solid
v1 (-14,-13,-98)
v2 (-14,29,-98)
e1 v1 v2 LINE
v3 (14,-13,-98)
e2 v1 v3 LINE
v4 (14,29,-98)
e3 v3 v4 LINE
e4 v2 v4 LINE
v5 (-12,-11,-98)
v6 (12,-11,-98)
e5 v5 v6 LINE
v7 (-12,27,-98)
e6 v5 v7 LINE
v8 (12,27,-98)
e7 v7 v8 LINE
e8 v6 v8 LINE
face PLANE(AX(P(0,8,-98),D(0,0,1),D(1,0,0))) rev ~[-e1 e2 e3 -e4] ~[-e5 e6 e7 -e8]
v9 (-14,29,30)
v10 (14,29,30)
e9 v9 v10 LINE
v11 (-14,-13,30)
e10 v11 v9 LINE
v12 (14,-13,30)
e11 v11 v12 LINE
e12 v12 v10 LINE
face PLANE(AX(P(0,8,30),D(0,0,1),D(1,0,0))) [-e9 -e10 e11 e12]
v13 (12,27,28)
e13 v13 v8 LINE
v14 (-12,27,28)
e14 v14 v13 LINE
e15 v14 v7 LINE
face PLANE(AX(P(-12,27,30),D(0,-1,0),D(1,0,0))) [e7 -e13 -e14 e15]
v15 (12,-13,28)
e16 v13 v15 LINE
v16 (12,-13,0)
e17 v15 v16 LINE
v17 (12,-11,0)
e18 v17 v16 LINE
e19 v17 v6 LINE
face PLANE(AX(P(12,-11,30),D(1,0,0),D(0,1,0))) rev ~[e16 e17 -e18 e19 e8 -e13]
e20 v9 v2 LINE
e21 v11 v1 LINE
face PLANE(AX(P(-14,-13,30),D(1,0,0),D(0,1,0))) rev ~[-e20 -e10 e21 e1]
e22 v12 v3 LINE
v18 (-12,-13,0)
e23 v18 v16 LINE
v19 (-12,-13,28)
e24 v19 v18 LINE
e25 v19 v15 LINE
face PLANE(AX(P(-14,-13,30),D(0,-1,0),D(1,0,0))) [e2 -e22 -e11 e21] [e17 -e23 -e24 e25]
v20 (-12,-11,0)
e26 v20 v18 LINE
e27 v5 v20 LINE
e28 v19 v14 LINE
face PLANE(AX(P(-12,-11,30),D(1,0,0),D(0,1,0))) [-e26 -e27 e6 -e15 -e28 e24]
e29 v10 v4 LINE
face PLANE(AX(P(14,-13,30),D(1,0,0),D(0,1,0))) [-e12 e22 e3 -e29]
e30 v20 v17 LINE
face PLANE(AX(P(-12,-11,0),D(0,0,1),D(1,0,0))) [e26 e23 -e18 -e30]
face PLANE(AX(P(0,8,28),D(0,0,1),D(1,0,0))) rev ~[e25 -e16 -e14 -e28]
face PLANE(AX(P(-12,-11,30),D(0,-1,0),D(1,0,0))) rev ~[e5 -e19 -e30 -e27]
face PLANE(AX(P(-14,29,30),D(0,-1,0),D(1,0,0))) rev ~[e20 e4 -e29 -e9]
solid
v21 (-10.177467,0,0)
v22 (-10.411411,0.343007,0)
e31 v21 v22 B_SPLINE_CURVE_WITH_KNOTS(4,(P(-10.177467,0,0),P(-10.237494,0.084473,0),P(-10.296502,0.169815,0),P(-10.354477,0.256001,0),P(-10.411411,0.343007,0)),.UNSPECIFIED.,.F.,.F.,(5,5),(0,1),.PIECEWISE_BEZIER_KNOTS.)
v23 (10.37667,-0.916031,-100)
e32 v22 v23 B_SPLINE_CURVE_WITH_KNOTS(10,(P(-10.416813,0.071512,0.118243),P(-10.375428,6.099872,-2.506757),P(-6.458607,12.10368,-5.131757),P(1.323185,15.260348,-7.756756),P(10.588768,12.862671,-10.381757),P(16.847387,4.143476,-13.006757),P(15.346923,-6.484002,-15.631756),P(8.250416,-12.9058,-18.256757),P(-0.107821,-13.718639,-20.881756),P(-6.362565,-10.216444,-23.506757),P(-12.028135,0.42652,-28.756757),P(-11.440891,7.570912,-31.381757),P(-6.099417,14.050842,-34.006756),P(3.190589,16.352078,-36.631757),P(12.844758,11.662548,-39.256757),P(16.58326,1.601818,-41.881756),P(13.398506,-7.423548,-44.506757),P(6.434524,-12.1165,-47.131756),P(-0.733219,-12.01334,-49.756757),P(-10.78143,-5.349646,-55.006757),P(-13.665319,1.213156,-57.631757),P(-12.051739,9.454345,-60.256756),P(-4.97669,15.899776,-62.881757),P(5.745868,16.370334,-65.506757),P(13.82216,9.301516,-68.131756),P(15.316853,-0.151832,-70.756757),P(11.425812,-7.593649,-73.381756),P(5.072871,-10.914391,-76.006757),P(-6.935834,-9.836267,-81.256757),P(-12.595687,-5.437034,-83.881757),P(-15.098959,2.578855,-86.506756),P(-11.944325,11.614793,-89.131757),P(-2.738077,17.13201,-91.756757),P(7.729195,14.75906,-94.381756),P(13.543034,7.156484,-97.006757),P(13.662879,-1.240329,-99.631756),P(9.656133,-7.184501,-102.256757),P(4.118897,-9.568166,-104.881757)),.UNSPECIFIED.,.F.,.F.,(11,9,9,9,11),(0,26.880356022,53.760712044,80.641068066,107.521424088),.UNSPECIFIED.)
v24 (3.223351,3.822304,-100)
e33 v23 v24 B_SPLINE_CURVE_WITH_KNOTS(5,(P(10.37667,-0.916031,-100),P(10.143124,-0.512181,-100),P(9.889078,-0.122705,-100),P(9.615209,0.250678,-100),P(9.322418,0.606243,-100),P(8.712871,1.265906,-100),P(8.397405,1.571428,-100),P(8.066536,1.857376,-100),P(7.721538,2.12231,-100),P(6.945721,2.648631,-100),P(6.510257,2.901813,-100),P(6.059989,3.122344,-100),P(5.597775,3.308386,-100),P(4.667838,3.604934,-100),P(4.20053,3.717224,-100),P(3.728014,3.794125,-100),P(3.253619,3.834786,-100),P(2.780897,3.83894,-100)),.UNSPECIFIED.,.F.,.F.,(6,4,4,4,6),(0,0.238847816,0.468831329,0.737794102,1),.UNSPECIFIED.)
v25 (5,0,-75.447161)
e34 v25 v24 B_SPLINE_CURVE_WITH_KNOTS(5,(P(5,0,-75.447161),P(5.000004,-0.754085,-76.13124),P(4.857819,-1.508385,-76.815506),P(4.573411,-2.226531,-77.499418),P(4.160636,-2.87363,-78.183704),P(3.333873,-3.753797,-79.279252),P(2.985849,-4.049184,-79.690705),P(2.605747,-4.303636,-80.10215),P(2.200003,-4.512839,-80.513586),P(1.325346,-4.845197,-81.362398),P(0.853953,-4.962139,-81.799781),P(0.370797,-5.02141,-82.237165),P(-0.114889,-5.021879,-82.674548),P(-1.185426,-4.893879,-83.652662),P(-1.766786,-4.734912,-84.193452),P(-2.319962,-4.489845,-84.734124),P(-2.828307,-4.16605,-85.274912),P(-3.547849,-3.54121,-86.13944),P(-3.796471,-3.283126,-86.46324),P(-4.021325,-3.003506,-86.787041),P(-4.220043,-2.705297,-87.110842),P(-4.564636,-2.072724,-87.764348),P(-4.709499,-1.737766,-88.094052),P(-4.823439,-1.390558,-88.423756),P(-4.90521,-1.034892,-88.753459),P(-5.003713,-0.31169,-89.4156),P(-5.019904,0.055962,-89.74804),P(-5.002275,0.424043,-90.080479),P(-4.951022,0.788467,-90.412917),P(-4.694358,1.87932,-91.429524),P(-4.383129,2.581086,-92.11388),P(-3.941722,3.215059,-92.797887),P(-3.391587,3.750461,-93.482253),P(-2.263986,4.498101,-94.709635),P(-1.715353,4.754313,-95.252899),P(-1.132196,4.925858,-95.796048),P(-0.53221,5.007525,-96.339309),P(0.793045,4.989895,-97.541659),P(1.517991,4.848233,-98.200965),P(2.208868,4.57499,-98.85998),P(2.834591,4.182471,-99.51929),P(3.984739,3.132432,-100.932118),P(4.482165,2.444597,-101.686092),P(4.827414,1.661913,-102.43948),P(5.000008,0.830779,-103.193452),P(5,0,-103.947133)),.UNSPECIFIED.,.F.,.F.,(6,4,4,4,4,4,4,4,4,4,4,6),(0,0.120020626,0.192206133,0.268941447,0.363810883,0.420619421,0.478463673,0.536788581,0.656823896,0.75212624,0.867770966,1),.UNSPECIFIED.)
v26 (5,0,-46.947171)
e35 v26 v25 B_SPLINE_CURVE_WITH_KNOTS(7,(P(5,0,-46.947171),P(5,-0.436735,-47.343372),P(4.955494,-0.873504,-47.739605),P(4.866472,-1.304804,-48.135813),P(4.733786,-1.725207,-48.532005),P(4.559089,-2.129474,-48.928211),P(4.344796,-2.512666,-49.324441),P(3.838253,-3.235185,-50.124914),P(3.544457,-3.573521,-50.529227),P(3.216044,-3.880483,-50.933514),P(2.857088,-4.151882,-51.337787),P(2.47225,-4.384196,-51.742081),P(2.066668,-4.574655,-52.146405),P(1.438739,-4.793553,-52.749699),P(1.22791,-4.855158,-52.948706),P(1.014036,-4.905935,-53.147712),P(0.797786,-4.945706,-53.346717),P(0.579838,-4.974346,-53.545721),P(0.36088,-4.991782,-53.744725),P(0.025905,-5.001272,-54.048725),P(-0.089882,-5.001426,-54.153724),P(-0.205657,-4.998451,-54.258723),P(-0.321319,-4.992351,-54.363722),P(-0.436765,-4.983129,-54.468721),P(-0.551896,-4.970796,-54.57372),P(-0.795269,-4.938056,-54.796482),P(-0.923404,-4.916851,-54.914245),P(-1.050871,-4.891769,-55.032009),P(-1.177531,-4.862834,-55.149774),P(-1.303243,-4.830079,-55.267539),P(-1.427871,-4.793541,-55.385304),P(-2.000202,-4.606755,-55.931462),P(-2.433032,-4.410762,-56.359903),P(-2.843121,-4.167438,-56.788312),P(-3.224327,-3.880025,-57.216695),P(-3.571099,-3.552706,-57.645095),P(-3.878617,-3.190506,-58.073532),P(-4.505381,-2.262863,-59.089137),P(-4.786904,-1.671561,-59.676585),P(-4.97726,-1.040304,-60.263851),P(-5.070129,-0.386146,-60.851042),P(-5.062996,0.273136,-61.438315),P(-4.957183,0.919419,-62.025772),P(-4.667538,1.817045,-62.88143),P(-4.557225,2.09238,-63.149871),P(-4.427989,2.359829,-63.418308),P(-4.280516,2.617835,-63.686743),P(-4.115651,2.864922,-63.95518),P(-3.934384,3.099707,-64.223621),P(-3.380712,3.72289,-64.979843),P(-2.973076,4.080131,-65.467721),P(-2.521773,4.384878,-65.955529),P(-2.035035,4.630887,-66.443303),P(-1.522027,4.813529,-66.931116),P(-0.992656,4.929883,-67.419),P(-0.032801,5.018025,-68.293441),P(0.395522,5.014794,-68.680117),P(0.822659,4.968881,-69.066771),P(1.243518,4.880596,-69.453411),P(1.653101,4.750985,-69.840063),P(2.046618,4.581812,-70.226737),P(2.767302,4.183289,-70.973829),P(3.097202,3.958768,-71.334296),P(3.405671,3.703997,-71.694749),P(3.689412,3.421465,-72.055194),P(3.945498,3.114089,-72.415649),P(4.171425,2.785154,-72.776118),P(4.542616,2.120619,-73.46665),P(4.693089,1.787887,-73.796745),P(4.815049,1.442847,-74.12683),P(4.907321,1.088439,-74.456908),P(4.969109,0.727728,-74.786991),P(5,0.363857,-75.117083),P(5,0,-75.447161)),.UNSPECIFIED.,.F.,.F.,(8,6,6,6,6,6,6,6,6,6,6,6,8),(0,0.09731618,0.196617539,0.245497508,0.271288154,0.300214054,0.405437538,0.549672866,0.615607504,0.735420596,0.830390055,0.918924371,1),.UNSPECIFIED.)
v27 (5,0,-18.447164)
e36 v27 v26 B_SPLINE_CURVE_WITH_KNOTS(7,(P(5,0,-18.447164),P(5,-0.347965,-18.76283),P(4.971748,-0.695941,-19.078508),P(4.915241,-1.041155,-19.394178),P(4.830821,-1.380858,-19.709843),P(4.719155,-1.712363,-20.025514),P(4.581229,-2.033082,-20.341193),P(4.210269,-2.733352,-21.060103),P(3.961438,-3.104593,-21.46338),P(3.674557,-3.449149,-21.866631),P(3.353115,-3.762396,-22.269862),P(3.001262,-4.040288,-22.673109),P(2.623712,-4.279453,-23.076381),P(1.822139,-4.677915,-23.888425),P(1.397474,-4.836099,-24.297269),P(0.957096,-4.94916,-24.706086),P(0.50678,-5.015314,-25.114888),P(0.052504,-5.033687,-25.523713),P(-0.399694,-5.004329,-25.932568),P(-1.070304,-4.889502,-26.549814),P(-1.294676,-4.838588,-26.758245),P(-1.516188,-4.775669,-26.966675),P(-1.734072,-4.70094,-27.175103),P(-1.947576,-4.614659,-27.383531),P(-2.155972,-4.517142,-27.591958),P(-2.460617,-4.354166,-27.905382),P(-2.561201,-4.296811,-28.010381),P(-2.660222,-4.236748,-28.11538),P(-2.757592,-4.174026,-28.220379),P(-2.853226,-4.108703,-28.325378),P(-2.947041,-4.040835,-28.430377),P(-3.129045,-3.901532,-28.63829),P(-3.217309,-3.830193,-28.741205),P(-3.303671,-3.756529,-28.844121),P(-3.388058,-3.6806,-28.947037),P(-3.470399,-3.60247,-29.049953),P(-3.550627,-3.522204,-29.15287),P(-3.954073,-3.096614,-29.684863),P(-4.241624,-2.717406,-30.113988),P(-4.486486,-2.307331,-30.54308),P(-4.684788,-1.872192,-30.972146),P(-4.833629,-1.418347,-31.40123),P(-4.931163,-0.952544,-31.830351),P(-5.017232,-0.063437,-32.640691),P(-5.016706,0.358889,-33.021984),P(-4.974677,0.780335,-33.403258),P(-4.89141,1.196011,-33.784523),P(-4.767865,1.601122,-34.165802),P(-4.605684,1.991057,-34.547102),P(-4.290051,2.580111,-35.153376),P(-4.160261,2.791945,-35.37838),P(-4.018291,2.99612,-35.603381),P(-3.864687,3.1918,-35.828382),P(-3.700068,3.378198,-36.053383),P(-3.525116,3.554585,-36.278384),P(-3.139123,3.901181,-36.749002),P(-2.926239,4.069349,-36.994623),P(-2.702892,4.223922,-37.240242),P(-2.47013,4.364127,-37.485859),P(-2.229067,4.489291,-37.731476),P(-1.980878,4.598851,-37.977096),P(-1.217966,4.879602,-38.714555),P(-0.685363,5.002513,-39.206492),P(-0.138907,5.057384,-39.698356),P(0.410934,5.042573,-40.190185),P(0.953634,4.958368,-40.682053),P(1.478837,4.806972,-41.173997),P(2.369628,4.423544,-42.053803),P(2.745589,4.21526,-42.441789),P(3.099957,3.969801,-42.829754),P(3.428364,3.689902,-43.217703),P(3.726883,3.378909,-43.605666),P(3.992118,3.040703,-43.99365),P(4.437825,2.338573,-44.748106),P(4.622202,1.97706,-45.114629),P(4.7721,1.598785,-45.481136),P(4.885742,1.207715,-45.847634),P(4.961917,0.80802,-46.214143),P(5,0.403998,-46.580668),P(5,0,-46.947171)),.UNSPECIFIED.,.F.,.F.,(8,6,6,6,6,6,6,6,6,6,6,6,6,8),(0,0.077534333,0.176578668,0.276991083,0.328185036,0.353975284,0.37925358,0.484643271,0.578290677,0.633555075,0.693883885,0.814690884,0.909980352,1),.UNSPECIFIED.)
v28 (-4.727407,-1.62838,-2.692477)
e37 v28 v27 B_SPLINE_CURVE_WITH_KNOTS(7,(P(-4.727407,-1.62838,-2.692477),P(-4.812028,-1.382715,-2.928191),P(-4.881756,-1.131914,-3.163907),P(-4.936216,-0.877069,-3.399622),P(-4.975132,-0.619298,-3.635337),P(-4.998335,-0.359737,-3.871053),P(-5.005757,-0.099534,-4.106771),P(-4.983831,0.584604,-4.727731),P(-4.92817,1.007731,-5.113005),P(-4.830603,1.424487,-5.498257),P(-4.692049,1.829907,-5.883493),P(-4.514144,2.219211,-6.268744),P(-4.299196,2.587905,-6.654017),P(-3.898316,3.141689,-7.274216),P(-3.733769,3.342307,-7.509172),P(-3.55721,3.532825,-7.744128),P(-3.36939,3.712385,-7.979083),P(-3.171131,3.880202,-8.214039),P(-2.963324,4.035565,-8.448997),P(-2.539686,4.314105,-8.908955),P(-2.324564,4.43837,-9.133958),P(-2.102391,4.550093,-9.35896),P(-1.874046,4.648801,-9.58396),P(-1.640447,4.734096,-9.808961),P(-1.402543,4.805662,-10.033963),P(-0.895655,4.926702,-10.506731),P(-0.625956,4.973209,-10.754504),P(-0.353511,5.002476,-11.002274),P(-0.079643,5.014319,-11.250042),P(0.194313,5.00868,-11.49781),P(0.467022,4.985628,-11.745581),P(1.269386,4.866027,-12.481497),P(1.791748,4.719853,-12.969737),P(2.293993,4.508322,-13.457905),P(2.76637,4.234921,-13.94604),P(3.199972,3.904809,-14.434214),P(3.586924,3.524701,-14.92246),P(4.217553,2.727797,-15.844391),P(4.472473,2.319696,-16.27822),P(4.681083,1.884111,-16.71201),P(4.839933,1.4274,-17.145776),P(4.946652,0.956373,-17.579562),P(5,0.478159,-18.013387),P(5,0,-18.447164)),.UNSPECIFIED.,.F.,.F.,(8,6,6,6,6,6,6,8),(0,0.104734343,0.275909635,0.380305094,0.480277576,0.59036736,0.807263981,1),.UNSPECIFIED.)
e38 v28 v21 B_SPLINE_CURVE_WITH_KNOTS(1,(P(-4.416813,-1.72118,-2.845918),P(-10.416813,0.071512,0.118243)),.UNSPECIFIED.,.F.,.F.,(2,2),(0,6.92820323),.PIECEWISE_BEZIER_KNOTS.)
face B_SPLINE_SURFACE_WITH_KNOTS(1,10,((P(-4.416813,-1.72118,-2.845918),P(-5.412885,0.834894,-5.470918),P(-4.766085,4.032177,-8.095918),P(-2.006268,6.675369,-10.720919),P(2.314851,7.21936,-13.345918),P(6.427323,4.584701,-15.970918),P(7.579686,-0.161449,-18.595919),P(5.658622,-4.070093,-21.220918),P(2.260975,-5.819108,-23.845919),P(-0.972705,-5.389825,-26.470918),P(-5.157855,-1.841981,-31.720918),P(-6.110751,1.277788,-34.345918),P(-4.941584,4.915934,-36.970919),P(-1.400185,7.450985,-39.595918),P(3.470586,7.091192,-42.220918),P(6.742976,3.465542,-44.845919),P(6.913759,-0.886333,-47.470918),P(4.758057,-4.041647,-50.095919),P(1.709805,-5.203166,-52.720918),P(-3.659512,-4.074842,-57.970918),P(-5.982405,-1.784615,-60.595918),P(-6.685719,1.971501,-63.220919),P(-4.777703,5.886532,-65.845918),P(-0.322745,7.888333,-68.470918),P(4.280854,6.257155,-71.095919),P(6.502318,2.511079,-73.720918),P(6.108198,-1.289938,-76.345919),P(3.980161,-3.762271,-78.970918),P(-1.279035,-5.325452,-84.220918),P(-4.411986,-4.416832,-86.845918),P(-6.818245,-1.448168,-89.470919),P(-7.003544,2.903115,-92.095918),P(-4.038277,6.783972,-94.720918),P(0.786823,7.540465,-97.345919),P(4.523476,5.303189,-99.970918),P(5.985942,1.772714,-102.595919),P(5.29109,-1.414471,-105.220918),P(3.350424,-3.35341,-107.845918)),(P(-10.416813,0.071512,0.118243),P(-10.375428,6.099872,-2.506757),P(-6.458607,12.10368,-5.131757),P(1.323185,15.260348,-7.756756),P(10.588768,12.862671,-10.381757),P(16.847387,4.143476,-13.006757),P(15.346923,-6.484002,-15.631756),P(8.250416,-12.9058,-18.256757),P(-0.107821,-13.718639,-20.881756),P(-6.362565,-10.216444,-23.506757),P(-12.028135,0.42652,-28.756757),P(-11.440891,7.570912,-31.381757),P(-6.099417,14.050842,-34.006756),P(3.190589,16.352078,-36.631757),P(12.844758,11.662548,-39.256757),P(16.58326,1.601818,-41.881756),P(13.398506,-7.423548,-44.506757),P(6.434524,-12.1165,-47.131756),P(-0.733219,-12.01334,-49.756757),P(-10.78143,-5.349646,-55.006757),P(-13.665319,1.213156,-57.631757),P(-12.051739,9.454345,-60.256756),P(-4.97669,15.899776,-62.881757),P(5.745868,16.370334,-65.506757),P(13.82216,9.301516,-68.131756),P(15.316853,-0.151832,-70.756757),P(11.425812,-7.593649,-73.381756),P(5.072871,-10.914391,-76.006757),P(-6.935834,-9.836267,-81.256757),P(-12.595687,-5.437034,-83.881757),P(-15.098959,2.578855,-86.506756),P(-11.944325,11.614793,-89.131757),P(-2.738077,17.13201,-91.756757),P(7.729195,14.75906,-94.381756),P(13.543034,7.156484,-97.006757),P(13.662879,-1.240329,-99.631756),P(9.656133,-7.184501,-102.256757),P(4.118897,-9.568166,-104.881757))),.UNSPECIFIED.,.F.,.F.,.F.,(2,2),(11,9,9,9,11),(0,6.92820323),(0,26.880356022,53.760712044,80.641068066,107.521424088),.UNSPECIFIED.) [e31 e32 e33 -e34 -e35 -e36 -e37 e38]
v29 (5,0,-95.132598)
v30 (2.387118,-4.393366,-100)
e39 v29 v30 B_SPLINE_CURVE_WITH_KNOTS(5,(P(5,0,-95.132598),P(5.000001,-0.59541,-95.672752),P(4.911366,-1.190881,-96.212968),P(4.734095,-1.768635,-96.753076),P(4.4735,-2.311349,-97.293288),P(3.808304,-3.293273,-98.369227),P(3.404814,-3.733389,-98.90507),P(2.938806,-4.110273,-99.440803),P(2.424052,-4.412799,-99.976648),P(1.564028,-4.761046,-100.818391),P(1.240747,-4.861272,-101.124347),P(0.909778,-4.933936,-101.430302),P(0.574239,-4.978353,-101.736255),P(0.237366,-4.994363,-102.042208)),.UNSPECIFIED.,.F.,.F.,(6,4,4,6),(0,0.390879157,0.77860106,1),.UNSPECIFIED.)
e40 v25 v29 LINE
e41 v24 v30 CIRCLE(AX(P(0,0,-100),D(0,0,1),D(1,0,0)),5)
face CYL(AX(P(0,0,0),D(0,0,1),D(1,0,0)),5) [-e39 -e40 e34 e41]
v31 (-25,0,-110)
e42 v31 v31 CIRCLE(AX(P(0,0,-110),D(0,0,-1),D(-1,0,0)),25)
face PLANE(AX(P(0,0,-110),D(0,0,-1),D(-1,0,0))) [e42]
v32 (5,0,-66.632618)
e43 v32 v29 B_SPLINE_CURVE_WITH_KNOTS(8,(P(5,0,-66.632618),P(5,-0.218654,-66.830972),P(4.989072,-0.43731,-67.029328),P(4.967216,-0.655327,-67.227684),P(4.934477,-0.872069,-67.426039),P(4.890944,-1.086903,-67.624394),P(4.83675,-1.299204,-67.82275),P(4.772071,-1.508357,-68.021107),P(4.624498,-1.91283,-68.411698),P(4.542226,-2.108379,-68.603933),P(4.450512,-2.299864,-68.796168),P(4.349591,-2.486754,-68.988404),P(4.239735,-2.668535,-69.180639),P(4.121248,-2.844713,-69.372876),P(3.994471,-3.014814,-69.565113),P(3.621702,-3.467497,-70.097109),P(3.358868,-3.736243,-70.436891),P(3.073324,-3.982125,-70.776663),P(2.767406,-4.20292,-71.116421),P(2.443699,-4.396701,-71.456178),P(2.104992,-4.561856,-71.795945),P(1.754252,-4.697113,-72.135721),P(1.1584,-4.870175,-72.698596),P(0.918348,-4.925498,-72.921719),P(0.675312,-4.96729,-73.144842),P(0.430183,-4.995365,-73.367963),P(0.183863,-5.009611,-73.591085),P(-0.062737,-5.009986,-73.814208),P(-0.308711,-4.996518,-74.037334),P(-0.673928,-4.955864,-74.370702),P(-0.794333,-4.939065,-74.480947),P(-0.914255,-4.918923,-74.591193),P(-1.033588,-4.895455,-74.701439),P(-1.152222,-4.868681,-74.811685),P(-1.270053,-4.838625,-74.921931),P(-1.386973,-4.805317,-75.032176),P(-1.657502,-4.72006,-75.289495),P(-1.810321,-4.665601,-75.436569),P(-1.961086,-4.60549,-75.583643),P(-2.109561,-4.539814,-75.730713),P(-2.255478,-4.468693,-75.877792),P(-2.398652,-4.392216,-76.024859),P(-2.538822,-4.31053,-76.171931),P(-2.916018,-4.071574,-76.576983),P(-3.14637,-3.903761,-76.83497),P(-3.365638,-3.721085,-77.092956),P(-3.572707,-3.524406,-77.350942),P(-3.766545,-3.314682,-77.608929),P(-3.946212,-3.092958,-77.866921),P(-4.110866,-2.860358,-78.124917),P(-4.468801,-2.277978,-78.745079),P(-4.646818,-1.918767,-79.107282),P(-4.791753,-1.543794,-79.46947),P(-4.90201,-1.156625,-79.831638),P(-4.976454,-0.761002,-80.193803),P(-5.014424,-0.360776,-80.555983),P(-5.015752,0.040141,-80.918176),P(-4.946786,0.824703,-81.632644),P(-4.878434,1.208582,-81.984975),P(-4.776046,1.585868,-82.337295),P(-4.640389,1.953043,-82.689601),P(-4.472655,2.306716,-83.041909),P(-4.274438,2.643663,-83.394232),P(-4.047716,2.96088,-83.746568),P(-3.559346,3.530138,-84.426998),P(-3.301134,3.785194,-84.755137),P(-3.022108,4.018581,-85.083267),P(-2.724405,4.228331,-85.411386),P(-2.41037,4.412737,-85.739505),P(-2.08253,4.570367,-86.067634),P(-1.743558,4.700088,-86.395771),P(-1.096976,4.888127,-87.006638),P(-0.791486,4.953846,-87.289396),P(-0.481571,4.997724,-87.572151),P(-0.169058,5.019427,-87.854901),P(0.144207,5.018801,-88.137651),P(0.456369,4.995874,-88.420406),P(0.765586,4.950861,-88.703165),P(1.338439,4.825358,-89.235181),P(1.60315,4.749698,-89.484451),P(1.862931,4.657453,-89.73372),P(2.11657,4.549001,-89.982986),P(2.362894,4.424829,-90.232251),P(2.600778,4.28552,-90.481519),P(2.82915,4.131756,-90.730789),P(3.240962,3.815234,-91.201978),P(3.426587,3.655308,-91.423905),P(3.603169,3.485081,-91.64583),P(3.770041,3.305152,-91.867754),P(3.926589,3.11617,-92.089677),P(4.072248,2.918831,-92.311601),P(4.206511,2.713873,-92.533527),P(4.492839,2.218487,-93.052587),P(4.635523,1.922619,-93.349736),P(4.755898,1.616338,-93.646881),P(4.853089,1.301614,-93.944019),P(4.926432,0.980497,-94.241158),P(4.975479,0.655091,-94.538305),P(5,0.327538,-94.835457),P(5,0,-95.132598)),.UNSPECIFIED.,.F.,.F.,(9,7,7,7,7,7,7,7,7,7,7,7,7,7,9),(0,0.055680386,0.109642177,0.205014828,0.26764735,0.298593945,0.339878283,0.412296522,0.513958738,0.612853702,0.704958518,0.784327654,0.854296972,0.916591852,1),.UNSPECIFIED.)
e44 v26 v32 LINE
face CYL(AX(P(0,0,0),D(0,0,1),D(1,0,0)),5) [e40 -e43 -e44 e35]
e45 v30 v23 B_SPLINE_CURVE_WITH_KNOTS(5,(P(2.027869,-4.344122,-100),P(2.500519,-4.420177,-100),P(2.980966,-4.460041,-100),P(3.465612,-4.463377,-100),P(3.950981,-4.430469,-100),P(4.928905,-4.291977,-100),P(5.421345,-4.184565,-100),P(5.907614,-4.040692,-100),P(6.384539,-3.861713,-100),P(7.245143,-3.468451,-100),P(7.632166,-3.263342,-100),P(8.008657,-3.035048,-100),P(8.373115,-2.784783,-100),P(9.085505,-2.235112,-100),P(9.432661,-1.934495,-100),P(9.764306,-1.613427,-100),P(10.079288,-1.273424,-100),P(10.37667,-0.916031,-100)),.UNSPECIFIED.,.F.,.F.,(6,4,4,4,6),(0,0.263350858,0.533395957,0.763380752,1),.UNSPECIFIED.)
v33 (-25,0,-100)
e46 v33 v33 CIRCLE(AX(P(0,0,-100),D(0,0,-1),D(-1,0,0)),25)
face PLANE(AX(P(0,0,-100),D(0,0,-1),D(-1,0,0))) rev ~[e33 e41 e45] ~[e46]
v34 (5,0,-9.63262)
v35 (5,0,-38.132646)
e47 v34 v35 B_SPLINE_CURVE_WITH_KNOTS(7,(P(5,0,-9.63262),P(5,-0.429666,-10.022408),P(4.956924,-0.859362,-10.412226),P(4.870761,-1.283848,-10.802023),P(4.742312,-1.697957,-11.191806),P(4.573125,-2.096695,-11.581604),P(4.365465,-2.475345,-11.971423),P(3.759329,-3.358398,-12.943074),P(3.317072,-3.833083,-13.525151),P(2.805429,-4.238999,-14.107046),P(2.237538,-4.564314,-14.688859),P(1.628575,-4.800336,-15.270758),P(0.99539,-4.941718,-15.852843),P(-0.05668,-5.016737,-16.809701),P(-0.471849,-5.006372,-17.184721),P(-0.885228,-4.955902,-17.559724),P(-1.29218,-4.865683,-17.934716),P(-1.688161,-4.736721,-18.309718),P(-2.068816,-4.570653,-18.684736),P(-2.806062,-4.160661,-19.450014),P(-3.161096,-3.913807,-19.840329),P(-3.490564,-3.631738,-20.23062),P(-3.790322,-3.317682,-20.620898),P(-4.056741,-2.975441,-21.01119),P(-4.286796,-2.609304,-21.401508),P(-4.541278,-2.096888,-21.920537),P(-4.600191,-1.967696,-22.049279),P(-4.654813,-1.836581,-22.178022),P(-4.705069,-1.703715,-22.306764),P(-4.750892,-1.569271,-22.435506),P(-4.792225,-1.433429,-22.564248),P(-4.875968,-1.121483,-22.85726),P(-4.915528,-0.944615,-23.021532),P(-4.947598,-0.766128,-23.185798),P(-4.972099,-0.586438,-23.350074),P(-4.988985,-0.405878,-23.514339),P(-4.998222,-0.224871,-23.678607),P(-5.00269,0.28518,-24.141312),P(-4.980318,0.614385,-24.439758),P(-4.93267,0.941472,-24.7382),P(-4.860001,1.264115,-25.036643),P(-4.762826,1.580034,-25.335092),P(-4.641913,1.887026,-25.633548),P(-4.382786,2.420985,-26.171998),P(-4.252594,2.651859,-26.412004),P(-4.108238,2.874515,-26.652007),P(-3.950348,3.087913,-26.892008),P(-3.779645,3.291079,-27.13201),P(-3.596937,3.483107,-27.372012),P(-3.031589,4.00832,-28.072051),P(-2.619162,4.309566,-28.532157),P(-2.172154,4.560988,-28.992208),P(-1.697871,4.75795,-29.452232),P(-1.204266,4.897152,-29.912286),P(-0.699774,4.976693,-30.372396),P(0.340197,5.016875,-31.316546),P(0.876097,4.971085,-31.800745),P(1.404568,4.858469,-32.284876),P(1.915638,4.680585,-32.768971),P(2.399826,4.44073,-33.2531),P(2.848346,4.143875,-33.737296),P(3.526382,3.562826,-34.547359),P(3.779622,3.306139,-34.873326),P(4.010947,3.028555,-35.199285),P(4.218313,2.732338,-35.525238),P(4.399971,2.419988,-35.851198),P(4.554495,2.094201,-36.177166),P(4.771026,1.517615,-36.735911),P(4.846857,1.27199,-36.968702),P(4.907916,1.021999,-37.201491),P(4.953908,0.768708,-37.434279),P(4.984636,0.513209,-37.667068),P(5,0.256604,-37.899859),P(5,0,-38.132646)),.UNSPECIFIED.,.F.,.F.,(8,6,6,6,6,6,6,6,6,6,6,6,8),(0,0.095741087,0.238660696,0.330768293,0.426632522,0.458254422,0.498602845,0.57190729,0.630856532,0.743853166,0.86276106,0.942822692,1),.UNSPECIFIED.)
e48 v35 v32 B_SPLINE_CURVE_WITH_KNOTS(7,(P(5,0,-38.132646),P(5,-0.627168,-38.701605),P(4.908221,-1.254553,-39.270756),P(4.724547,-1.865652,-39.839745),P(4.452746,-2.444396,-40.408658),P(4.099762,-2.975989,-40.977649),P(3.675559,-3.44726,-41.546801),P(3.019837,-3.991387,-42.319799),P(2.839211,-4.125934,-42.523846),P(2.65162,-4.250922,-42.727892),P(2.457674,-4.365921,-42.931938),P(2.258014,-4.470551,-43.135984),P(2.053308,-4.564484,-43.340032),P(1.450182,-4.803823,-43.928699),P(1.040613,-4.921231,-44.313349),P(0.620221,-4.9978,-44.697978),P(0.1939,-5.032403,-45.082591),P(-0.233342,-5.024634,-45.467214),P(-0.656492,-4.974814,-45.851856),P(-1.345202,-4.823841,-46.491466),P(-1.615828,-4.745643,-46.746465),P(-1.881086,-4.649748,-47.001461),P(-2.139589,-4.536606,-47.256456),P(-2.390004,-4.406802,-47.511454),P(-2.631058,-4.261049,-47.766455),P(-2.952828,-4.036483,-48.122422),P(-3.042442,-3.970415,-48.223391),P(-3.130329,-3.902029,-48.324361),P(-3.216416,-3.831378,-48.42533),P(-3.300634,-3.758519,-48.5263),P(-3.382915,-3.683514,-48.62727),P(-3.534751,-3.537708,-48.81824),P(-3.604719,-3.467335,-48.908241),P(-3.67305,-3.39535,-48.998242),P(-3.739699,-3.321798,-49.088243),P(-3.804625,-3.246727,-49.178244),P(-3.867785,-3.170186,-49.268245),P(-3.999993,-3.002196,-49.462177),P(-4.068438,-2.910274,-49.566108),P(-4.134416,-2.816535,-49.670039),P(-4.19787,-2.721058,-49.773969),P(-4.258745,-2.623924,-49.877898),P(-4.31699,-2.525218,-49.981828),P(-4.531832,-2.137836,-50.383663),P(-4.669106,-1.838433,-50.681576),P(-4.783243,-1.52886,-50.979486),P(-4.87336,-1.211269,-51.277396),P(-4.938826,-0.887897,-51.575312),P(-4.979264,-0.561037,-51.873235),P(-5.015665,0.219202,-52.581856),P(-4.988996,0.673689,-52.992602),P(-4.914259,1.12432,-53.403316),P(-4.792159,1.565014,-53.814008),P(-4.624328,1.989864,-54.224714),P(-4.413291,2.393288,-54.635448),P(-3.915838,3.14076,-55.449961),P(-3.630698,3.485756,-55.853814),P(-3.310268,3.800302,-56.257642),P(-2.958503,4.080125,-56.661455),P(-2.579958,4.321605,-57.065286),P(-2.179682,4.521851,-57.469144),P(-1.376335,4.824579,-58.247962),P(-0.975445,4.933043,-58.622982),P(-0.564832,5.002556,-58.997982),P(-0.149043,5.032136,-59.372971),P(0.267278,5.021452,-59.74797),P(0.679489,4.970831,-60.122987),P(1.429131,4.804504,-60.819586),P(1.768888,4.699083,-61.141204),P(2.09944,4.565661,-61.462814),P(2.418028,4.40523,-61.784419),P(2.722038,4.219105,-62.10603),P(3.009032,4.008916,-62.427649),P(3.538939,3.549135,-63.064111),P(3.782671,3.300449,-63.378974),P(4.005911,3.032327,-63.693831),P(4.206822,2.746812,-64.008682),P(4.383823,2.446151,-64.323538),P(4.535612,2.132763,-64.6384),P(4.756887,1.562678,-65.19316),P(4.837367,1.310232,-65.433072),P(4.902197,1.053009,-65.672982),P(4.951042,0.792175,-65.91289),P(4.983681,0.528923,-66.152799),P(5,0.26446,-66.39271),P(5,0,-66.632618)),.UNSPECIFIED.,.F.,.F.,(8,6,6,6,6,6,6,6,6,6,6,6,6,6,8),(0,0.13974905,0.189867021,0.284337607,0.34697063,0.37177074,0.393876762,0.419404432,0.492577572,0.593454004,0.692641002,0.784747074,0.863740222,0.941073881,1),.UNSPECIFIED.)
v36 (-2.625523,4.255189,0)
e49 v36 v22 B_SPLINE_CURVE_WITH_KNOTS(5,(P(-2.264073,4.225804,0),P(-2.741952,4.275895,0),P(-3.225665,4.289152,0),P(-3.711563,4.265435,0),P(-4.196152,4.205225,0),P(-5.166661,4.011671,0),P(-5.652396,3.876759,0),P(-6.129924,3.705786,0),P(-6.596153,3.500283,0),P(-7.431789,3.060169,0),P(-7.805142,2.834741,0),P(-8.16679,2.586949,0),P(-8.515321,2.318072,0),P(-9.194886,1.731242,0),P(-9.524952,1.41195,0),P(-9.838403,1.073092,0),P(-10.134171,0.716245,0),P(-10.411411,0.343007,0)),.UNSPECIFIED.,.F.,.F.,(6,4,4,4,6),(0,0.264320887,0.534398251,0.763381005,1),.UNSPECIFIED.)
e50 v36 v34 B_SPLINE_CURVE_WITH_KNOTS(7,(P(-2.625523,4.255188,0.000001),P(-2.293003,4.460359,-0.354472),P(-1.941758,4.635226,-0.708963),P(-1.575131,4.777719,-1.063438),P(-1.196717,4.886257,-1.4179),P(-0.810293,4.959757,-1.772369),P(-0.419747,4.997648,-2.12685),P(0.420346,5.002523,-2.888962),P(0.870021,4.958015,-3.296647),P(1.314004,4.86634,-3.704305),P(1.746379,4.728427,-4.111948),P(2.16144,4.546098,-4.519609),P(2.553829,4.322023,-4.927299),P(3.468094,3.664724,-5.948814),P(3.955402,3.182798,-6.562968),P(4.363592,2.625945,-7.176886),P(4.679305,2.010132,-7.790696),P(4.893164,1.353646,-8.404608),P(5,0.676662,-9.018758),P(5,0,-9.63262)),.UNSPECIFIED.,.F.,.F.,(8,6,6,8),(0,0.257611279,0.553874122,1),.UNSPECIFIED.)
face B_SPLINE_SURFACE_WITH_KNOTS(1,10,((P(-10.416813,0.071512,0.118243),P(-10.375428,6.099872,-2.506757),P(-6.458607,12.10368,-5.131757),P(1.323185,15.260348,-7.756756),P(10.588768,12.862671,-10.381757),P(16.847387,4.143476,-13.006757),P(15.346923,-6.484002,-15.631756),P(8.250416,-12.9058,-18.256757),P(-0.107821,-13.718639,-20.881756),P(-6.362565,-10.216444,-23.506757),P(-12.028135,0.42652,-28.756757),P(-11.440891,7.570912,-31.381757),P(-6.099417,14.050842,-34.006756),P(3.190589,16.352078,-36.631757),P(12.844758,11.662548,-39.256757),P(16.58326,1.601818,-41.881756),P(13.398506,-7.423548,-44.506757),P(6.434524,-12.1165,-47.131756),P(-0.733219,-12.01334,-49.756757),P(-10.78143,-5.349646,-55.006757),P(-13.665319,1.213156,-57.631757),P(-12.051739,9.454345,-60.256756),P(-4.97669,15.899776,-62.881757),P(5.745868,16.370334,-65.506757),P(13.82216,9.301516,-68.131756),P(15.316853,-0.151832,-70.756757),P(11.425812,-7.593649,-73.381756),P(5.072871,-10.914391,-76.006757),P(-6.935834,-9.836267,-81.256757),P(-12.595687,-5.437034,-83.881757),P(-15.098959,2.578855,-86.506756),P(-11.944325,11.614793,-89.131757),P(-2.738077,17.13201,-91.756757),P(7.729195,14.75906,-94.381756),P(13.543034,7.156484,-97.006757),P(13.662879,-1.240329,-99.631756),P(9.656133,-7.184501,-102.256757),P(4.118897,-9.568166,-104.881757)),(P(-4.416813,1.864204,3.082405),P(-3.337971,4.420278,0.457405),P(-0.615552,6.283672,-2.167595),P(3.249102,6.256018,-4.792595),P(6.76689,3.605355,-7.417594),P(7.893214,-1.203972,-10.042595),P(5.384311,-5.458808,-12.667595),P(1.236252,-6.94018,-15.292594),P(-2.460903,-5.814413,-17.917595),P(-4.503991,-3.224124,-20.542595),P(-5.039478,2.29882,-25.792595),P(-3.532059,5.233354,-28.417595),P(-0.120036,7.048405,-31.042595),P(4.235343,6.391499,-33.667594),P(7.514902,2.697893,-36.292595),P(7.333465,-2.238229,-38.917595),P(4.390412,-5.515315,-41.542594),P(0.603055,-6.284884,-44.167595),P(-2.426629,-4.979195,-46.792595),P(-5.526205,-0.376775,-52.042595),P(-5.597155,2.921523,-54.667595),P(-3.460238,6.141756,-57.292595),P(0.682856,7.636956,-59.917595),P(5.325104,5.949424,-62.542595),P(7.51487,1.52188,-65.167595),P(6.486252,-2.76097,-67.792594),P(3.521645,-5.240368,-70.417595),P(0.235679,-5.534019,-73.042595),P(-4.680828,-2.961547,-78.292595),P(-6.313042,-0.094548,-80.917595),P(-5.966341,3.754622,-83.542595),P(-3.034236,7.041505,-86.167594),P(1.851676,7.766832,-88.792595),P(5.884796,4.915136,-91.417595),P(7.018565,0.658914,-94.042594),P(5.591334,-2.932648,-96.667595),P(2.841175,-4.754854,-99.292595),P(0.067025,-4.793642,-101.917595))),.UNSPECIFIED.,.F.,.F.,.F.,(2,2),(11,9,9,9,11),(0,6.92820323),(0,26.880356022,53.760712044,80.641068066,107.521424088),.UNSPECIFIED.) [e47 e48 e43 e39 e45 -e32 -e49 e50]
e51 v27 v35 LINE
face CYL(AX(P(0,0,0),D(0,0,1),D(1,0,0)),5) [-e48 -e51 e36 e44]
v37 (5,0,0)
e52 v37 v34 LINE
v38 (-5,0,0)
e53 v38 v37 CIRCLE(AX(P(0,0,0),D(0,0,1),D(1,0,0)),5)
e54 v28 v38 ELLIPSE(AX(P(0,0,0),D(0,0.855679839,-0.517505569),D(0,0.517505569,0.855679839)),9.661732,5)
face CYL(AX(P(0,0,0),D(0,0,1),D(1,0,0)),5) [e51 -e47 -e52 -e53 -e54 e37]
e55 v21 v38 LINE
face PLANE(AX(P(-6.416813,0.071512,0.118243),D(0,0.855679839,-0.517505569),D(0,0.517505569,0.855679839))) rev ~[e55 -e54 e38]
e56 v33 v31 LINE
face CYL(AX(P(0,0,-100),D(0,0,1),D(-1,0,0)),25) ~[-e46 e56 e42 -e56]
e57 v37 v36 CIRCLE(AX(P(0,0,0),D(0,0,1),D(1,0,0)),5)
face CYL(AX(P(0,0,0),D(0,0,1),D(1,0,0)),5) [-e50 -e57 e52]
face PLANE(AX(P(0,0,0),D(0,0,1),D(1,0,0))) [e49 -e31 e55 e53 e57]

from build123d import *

# Parameters (mm, degrees)
SKETCH1_R           = 5
BODY_DEPTH          = 100
SKETCH2_R           = 25
HEAD_DEPTH          = 10
SWEEP1_PITCH        = 28.5
SWEEP1_HEIGHT       = 105
SWEEP1_RADIUS       = 7.5
SKETCH18_R          = 14.102018713
CUT_EXTRUDE1_DEPTH  = 17
SKETCH19_W          = 28
SKETCH19_H          = 42
SKETCH19_W_2        = 24
SKETCH19_H_2        = 38
FRAME_DEPTH         = 128
SKETCH19_2_W        = 24
SKETCH19_2_H        = 38
BOSS_EXTRUDE3_DEPTH = 2
SKETCH23_W          = 24
SKETCH23_H          = 28
HOLE_DEPTH          = 2
SKETCH23_3_W        = 24
SKETCH23_3_H        = 28
CUT_EXTRUDE2_DEPTH  = 2


with BuildPart() as part:
    # Sketch1 → Body (new body)
    with BuildSketch(Plane.XY):
        Circle(SKETCH1_R)
    extrude(amount=-BODY_DEPTH)

    # Sketch2 → Head (add)
    with BuildSketch(Plane(origin=(0, 0, -100), x_dir=(-1, 0, 0), z_dir=(0, 0, -1))):
        Circle(SKETCH2_R)
    extrude(amount=HEAD_DEPTH)

    # Sweep1: sweep along a helix
    with BuildLine() as sweep1_path:
        Helix(SWEEP1_PITCH, SWEEP1_HEIGHT, SWEEP1_RADIUS, center=(0, 0, 0), direction=(0, 0, -1))
    # Sketch17 → Sweep1 (sweep)
    with BuildSketch(Plane(origin=(-7.5, 0, 0), x_dir=(1, 0, 0), z_dir=(-5.979636411115962e-15, 0.8556798386028079, -0.5175055688673048))):
        Polygon((-2.916813088, -0.138186574), (3.083186912, -3.602288189), (3.083186912, 3.325915041), align=None)
    sweep(path=sweep1_path.line, is_frenet=True)

    # Sketch18 → Cut-Extrude1 (cut)
    with BuildSketch(Plane.XY):
        Circle(SKETCH18_R)
    extrude(amount=CUT_EXTRUDE1_DEPTH, mode=Mode.SUBTRACT)


with BuildPart() as body_2:
    # Sketch19 → Frame (new body)
    with BuildSketch(Plane.XY.offset(30)):
        with Locations((0, 8)):
            Rectangle(SKETCH19_W, SKETCH19_H)
        with Locations((0, 8)):
            Rectangle(SKETCH19_W_2, SKETCH19_H_2, mode=Mode.SUBTRACT)
    extrude(amount=-FRAME_DEPTH)

    # Sketch19<2> → Boss-Extrude3 (add)
    with BuildSketch(Plane.XY.offset(30)):
        with Locations((0, 8)):
            Rectangle(SKETCH19_2_W, SKETCH19_2_H)
    extrude(amount=-BOSS_EXTRUDE3_DEPTH)

    # Sketch23 → Hole (add)
    with BuildSketch(Plane(origin=(0, -11, 0), x_dir=(1, 0, 0), z_dir=(0, 1, 0))):
        with Locations((0, -14)):
            Rectangle(SKETCH23_W, SKETCH23_H)
    extrude(amount=-HOLE_DEPTH)

    # Sketch23<3> → Cut-Extrude2 (cut)
    with BuildSketch(Plane(origin=(0, -11, 0), x_dir=(1, 0, 0), z_dir=(0, 1, 0))):
        with Locations((0, -14)):
            Rectangle(SKETCH23_3_W, SKETCH23_3_H)
    extrude(amount=-CUT_EXTRUDE2_DEPTH, mode=Mode.SUBTRACT)


solid = Compound([part.part, body_2.part])
